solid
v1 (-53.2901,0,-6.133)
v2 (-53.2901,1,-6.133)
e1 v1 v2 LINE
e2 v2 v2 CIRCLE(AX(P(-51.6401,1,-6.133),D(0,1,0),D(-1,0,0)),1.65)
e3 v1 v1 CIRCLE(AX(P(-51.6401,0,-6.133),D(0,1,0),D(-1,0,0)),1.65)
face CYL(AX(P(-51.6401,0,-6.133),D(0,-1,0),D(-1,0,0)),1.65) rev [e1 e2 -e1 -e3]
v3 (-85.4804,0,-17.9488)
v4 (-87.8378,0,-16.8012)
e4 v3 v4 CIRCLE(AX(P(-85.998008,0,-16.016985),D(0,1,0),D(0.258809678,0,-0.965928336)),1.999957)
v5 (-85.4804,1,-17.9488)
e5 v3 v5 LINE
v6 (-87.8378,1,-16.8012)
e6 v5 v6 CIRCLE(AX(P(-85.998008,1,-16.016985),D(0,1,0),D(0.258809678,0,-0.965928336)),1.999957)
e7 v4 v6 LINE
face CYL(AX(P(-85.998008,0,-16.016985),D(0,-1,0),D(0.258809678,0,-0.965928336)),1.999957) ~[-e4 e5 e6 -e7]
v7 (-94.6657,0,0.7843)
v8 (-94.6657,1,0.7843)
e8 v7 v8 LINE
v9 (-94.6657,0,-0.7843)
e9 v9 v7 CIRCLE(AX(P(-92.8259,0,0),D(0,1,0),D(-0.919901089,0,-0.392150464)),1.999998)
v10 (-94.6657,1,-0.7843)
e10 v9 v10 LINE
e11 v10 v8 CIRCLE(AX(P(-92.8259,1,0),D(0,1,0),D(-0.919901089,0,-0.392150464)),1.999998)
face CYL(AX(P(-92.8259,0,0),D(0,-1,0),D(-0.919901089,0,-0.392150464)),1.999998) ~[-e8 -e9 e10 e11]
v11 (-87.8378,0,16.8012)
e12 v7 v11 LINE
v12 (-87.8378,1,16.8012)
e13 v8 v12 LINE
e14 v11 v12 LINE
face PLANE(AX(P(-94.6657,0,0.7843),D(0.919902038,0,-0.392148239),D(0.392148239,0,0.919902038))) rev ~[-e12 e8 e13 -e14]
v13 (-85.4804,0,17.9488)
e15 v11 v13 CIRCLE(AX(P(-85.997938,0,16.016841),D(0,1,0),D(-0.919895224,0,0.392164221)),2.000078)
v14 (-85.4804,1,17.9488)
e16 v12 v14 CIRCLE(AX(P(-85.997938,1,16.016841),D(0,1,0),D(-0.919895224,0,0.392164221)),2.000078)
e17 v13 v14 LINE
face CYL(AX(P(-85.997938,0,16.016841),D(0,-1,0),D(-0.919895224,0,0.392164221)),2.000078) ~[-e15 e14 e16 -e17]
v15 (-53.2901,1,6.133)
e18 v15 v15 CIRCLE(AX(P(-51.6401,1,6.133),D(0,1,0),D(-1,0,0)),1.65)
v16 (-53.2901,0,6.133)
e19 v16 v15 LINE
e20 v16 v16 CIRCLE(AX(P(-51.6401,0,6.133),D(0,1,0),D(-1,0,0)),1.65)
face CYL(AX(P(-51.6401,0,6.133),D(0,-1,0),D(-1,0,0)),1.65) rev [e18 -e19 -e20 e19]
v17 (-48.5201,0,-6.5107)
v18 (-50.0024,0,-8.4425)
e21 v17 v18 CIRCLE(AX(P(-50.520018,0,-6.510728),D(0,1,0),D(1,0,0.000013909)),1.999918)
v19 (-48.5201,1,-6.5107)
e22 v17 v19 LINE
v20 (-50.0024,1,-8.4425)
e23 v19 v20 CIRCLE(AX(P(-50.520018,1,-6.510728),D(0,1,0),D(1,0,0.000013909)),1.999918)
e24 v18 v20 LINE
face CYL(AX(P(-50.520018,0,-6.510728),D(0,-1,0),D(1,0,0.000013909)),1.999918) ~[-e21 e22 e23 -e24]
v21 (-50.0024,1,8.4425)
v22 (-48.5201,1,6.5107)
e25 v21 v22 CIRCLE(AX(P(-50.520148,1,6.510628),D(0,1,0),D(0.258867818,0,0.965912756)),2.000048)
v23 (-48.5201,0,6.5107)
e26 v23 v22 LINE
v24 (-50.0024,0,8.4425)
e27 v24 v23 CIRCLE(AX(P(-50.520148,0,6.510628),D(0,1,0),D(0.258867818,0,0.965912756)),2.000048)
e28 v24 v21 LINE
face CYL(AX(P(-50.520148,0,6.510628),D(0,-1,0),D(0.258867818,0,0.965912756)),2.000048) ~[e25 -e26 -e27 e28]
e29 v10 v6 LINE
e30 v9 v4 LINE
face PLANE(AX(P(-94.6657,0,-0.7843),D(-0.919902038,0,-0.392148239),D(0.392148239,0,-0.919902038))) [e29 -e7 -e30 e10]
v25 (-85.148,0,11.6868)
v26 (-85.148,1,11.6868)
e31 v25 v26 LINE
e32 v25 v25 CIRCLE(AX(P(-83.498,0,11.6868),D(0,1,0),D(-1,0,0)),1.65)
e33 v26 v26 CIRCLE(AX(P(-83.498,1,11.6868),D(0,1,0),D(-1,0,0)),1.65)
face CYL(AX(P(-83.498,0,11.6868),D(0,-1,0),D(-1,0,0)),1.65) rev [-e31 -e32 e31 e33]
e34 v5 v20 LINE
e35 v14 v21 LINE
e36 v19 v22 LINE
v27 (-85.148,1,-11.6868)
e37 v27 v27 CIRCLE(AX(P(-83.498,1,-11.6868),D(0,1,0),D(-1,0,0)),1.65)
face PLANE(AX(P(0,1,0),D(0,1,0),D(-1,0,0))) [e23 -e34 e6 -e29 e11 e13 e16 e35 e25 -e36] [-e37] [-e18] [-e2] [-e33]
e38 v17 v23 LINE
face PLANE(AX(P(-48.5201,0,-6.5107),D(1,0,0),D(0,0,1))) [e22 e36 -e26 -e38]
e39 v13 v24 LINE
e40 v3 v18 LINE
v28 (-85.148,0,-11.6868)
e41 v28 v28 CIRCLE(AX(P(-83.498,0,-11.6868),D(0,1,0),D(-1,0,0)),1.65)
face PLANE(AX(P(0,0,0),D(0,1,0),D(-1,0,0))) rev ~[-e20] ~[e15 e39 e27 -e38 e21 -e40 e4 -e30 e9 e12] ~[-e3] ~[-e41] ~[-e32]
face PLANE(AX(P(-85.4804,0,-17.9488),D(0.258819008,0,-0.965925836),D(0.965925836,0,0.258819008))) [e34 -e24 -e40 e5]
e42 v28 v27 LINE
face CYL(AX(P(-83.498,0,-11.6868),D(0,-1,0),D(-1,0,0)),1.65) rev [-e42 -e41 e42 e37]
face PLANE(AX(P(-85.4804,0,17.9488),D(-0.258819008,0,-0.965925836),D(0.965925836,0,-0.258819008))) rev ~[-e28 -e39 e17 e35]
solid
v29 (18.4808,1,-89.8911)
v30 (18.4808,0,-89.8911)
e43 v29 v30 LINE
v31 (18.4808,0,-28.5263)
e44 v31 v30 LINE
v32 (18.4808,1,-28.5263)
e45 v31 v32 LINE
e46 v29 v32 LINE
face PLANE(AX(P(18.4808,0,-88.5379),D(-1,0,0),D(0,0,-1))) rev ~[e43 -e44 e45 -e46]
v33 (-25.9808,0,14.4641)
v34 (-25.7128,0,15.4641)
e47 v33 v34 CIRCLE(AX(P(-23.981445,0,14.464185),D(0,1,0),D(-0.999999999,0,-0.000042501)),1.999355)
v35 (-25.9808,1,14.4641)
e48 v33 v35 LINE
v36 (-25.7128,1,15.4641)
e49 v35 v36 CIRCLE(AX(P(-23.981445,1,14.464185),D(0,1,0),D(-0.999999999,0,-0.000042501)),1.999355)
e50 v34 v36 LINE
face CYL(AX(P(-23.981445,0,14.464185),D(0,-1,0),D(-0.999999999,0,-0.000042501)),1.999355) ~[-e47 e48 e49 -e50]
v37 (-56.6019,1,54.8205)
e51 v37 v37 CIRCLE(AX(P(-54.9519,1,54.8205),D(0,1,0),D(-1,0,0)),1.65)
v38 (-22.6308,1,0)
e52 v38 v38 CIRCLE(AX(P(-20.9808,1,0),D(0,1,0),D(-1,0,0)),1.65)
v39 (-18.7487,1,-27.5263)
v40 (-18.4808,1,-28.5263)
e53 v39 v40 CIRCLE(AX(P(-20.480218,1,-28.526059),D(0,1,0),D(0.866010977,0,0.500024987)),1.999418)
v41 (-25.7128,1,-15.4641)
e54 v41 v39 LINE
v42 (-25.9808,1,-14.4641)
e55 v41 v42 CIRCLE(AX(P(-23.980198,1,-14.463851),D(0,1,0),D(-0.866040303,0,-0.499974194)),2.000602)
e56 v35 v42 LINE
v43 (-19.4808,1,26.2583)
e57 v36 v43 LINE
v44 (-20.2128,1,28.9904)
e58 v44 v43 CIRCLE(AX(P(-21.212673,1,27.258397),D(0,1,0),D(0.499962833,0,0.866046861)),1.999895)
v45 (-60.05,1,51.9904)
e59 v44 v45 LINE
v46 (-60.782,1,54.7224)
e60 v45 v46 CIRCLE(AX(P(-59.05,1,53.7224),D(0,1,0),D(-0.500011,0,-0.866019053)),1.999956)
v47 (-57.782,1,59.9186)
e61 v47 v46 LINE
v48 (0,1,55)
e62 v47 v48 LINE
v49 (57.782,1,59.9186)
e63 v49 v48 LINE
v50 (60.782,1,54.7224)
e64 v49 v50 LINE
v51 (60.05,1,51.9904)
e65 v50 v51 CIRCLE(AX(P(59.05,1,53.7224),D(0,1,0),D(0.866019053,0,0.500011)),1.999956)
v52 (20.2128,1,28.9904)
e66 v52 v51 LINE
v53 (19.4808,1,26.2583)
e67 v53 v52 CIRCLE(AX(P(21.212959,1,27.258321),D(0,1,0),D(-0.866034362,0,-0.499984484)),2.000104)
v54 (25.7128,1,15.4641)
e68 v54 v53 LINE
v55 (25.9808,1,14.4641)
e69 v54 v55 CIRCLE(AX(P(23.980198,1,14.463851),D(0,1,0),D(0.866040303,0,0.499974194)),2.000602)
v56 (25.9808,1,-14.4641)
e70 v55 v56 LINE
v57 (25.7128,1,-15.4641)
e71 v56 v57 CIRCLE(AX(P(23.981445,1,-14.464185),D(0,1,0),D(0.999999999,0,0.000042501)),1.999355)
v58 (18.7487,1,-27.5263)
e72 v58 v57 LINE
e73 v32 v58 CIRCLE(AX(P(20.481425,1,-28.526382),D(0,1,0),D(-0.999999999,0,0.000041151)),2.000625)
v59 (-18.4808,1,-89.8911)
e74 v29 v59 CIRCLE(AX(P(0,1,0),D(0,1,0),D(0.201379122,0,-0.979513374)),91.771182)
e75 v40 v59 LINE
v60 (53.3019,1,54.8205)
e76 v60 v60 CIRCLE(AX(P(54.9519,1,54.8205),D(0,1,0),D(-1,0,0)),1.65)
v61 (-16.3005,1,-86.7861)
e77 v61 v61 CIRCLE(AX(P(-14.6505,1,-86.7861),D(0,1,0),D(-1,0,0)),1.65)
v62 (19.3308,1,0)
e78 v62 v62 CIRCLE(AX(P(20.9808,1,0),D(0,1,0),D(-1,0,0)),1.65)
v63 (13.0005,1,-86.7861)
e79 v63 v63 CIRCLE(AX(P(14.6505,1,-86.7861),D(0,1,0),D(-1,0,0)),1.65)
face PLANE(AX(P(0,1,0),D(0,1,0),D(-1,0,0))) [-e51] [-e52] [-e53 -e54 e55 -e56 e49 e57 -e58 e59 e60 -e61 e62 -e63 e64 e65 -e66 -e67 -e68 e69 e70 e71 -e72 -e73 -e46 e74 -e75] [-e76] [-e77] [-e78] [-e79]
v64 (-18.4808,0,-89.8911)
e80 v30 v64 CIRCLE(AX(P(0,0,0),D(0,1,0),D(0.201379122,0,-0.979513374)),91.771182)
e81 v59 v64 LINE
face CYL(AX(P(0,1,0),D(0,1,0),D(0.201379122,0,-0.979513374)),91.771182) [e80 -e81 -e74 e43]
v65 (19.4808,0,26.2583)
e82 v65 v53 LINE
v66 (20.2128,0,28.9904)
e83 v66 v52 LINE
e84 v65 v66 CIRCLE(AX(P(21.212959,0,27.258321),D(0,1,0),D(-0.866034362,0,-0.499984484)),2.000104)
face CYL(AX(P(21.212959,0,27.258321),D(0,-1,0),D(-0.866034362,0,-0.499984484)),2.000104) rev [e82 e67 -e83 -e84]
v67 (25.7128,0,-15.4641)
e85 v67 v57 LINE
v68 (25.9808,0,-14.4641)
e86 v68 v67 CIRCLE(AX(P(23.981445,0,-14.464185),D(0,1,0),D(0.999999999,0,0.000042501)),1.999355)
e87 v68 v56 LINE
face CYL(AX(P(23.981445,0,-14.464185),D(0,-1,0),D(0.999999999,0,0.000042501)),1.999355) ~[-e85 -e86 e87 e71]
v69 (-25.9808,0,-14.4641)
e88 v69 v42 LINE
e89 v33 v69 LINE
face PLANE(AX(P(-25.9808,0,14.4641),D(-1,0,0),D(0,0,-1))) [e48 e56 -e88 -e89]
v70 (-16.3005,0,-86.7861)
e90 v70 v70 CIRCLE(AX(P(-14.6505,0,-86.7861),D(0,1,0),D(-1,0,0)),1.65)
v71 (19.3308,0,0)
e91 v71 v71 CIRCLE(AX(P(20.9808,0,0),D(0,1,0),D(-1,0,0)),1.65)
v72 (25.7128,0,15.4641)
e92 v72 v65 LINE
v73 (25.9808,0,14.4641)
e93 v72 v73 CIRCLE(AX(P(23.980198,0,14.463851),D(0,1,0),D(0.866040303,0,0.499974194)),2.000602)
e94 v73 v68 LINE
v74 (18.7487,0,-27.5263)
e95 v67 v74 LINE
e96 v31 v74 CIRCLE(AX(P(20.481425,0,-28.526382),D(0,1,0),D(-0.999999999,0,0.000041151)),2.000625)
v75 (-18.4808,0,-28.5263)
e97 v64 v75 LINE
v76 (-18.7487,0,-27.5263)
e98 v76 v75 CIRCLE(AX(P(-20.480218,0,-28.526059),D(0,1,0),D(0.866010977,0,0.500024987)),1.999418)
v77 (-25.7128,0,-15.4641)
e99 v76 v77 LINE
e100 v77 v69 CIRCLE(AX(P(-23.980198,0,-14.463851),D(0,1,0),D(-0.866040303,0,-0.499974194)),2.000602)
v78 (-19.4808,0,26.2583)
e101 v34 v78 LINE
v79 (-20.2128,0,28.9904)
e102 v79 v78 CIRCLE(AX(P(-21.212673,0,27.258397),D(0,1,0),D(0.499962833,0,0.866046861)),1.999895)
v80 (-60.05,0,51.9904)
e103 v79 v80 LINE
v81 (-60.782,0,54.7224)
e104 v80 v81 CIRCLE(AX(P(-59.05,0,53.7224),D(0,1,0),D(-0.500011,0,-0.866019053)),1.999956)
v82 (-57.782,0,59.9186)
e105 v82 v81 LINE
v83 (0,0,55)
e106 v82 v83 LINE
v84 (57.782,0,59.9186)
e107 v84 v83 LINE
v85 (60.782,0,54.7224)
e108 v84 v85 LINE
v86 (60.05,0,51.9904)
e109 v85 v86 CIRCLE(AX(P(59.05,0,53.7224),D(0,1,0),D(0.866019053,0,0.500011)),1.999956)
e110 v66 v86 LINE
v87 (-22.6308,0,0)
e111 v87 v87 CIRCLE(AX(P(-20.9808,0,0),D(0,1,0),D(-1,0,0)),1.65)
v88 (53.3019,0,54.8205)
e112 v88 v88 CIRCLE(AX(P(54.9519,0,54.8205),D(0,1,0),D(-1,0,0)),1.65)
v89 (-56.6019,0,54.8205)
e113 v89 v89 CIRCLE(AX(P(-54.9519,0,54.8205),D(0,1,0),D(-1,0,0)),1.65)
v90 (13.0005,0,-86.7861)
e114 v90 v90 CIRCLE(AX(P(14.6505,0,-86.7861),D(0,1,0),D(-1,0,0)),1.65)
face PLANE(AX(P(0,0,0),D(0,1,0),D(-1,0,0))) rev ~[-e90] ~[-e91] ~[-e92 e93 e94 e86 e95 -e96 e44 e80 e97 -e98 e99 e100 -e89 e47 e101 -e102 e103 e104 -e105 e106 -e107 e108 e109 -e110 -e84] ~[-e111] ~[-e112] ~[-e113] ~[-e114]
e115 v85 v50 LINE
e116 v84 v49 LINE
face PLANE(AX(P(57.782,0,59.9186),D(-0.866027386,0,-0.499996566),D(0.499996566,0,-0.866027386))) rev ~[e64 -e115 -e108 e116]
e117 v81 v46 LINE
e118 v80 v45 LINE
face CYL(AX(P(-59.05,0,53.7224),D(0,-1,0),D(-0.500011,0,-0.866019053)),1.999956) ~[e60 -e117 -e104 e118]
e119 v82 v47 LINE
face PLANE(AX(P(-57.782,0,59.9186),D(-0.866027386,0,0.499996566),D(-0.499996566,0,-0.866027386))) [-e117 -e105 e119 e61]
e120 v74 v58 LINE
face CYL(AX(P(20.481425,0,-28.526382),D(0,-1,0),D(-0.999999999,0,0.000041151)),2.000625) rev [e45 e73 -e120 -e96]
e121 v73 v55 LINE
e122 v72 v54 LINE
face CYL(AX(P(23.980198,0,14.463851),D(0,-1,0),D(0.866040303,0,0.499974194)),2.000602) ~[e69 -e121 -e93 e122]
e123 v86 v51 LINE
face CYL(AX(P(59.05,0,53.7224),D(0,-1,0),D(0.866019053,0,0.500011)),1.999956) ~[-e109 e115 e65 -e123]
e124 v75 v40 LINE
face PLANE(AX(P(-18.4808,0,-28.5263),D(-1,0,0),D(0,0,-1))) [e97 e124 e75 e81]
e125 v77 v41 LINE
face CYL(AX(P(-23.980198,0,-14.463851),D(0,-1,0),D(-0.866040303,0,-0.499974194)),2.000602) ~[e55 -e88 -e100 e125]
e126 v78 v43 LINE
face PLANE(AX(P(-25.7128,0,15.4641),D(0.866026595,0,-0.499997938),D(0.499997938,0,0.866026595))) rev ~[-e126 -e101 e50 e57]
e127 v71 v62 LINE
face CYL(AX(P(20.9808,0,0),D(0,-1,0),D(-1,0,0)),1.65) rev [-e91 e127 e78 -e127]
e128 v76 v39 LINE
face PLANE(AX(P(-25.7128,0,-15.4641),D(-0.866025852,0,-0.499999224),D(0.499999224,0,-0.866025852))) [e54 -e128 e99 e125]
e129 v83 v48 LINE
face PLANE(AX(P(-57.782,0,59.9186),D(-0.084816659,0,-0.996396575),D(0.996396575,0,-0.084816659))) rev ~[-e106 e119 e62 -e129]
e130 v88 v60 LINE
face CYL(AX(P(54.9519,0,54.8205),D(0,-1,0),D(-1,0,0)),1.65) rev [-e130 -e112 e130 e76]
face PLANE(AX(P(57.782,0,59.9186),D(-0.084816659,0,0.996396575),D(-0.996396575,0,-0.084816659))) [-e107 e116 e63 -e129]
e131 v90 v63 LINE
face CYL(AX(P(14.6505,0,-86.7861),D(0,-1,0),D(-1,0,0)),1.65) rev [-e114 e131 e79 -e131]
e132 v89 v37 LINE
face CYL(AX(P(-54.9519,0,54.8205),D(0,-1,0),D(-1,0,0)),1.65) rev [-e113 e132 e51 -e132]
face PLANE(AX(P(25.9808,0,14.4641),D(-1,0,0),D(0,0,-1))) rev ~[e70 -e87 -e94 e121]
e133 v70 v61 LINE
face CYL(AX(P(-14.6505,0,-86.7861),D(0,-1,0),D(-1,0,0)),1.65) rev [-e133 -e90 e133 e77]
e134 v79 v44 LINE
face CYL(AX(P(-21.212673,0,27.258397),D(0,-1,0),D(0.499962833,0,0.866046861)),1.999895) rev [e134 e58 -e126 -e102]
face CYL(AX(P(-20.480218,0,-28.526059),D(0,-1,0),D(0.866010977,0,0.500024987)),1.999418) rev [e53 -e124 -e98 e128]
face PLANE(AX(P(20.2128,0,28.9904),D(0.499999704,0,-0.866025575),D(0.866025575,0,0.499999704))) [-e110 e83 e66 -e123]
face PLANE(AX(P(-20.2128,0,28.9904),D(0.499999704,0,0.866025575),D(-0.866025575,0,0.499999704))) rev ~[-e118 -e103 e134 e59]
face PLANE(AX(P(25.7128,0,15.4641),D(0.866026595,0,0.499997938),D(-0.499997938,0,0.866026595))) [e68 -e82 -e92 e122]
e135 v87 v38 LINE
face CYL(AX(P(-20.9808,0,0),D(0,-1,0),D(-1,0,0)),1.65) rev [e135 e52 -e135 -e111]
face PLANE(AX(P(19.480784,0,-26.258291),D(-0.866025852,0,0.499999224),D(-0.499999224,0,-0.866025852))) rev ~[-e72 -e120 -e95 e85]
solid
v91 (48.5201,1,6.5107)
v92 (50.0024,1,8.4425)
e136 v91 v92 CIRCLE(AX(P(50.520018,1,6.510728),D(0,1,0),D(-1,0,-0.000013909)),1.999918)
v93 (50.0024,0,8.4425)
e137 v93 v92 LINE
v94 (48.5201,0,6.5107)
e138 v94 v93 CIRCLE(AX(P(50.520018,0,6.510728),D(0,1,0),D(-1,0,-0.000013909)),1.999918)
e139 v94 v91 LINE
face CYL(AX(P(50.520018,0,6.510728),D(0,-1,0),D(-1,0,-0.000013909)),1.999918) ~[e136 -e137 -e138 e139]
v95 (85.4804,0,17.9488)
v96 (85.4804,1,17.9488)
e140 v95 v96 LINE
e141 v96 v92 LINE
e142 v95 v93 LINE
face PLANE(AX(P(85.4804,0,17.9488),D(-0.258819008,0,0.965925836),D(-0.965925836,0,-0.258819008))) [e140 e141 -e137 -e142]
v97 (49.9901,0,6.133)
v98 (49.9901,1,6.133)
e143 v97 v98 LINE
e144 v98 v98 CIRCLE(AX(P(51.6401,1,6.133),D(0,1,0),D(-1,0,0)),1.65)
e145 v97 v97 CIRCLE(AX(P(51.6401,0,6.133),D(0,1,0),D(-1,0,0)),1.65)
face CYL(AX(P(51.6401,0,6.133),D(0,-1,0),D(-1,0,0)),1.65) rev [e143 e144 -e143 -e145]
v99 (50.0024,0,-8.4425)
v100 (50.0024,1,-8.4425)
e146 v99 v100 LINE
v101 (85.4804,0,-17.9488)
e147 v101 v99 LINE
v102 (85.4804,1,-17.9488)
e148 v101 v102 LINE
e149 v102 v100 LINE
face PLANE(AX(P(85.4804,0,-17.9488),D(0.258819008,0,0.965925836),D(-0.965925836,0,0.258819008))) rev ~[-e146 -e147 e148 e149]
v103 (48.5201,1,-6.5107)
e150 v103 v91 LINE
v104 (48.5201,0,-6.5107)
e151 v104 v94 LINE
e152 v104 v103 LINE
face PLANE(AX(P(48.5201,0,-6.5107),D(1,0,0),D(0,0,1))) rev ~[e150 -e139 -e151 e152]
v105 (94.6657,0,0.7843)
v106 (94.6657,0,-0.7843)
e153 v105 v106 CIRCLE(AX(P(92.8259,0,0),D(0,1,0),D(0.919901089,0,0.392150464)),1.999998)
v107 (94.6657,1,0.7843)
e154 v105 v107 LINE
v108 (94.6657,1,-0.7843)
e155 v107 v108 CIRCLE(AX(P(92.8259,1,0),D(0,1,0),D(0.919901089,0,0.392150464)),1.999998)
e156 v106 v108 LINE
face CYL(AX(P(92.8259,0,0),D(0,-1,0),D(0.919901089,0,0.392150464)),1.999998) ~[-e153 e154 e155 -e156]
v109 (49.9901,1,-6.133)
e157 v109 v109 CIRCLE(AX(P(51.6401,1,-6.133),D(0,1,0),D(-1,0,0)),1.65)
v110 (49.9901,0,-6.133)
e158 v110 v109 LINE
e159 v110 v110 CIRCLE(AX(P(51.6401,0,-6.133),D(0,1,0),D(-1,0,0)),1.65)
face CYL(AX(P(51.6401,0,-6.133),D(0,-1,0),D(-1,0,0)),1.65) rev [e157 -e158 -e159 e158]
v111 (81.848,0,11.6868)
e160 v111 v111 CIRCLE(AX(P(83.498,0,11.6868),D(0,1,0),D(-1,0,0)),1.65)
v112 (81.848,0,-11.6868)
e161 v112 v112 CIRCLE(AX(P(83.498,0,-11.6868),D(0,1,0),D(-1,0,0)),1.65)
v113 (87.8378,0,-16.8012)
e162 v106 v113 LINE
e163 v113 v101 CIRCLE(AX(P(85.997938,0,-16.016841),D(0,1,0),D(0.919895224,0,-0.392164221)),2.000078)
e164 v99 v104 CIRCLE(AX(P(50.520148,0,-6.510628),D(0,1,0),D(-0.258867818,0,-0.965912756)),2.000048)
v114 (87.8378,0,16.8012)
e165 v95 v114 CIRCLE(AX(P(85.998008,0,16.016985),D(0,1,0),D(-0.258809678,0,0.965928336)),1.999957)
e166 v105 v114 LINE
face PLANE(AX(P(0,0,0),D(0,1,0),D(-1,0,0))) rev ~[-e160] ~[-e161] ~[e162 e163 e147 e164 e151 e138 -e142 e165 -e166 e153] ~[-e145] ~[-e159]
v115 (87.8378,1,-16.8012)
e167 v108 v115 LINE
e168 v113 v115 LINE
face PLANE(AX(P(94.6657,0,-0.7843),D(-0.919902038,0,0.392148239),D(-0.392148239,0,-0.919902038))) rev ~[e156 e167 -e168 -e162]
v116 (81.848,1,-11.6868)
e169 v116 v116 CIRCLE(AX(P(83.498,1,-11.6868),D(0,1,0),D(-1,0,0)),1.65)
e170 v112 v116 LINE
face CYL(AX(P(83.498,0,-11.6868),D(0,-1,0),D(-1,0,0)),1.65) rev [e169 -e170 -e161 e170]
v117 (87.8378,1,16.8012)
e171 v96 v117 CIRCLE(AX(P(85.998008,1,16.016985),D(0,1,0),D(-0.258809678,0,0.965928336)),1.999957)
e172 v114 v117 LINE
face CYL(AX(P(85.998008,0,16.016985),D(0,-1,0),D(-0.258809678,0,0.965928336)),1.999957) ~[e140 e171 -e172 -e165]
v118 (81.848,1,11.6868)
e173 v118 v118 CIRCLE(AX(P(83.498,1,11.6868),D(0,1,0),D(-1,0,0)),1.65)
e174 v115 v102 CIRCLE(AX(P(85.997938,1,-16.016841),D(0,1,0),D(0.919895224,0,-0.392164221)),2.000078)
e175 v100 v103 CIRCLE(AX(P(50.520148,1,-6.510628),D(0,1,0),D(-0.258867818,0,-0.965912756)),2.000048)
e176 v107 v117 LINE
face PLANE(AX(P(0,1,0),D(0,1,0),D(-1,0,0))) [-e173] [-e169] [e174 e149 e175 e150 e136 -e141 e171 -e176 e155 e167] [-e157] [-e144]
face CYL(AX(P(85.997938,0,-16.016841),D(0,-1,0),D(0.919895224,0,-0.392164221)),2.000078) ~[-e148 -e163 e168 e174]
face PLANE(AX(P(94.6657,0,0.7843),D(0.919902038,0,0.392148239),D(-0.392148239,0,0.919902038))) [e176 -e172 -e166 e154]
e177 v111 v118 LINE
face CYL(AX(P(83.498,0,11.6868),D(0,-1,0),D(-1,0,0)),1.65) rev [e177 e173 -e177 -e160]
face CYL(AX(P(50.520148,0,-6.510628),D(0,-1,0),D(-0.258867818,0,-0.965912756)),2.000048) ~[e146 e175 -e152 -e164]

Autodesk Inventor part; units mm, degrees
ref_plane "YZ Plane" through (0, 0, 0) normal (1, 0, 0) x (0, 1, 0)
ref_plane "XZ Plane" through (0, 0, 0) normal (0, 1, 0) x (-1, 0, 0)
ref_plane "XY Plane" through (0, 0, 0) normal (0, 0, 1) x (1, 0, 0)
sketch "Sketch1" plane through (0, 0, 0) normal (0, 1, 0) x (-1, 0, 0)
  line L0 (-18.4808, -28.5263) -> (-18.4808, -88.5379)
  line L1 (25.7128, 15.4641) -> (19.4808, 26.2583)
  arc A0 (20.2128, 28.9904) -> (19.4808, 26.2583) centre (21.2128, 27.2583) ccw
  arc A1 (-60.782, 54.7224) -> (-60.05, 51.9904) centre (-59.05, 53.7224) ccw
  line L2 (-20.2128, 28.9904) -> (-60.05, 51.9904)
  arc A2 (60.05, 51.9904) -> (60.782, 54.7224) centre (59.05, 53.7224) ccw
  line L3 (20.2128, 28.9904) -> (60.05, 51.9904)
  arc A3 (-85.4804, 17.9488) -> (-87.8378, 16.8012) centre (-85.998, 16.0169) ccw
  arc A4 (-94.6657, 0.7843) -> (-94.6657, -0.7843) centre (-92.8259, 0) ccw
  arc A5 (-87.8378, -16.8012) -> (-85.4804, -17.9488) centre (-85.998, -16.0169) ccw
  line L4 (-94.6657, -0.7843) -> (-87.8378, -16.8012)
  line L5 (-94.6657, 0.7843) -> (-87.8378, 16.8012)
  arc A6 (48.5201, -6.5107) -> (50.0024, -8.4425) centre (50.5201, -6.5107) ccw
  line L6 (48.5201, -6.5107) -> (48.5201, 6.5107)
  arc A7 (50.0024, 8.4425) -> (48.5201, 6.5107) centre (50.5201, 6.5107) ccw
  line L7 (85.4804, 17.9488) -> (50.0024, 8.4425)
  line L8 (85.4804, -17.9488) -> (50.0024, -8.4425)
  arc A8 (87.8378, 16.8012) -> (85.4804, 17.9488) centre (85.998, 16.0169) ccw
  line L9 (94.6657, 0.7843) -> (87.8378, 16.8012)
  line L10 (-18.4808, -88.5379) -> (-18.4808, -91.8911)
  line L11 (18.4808, -88.5379) -> (18.4808, -91.8911)
  line L12 (18.4808, -28.5263) -> (18.4808, -88.5379)
  line L13 (-25.7128, -15.4641) -> (-18.7487, -27.5263)
  arc A9 (-25.9808, -14.4641) -> (-25.7128, -15.4641) centre (-23.9808, -14.4641) ccw
  arc A10 (-18.4808, -28.5263) -> (-18.7487, -27.5263) centre (-20.4808, -28.5263) ccw
  line L14 (-85.4804, 17.9488) -> (-50.0024, 8.4425)
  line L15 (-85.4804, -17.9488) -> (-50.0024, -8.4425)
  line L16 (25.7128, -15.4641) -> (18.7487, -27.5263)
  arc A11 (25.7128, -15.4641) -> (25.9808, -14.4641) centre (23.9808, -14.4641) ccw
  arc A12 (18.7487, -27.5263) -> (18.4808, -28.5263) centre (20.4808, -28.5263) ccw
  arc A13 (25.9808, 14.4641) -> (25.7128, 15.4641) centre (23.9808, 14.4641) ccw
  line L17 (25.9808, 14.4641) -> (25.9808, -14.4641)
  arc A14 (85.4804, -17.9488) -> (87.8378, -16.8012) centre (85.998, -16.0169) ccw
  arc A15 (94.6657, -0.7843) -> (94.6657, 0.7843) centre (92.8259, 0) ccw
  line L18 (94.6657, -0.7843) -> (87.8378, -16.8012)
  line L19 (-25.9808, 14.4641) -> (-25.9808, -14.4641)
  line L20 (-25.7128, 15.4641) -> (-19.4808, 26.2583)
  arc A16 (-25.7128, 15.4641) -> (-25.9808, 14.4641) centre (-23.9808, 14.4641) ccw
  arc A17 (-19.4808, 26.2583) -> (-20.2128, 28.9904) centre (-21.2128, 27.2583) ccw
  arc A18 (-50.0024, -8.4425) -> (-48.5201, -6.5107) centre (-50.5201, -6.5107) ccw
  line L21 (-48.5201, -6.5107) -> (-48.5201, 6.5107)
  arc A19 (-48.5201, 6.5107) -> (-50.0024, 8.4425) centre (-50.5201, 6.5107) ccw
  arc A20 (-18.4808, -91.8911) -> (18.4808, -91.8911) centre (0, 0) ccw
  line L22 (-18.4808, -91.8911) -> (-18.4808, -28.5263)
  line L23 (-18.7487, -27.5263) -> (-25.7128, -15.4641)
  line L24 (-25.9808, -14.4641) -> (-25.9808, 14.4641)
  line L25 (-25.7128, 15.4641) -> (-19.4808, 26.2583)
  line L26 (-20.2128, 28.9904) -> (-60.05, 51.9904)
  line L27 (60.05, 51.9904) -> (20.2128, 28.9904)
  line L28 (19.4808, 26.2583) -> (25.7128, 15.4641)
  line L29 (25.9808, 14.4641) -> (25.9808, -14.4641)
  line L30 (25.7128, -15.4641) -> (18.7487, -27.5263)
  line L31 (18.4808, -28.5263) -> (18.4808, -91.8911)
  arc A21 (-18.4808, -28.5263) -> (-18.7487, -27.5263) centre (-20.4808, -28.5263) ccw
  arc A22 (-25.9808, -14.4641) -> (-25.7128, -15.4641) centre (-23.9808, -14.4641) ccw
  arc A23 (-25.7128, 15.4641) -> (-25.9808, 14.4641) centre (-23.9808, 14.4641) ccw
  arc A24 (-19.4808, 26.2583) -> (-20.2128, 28.9904) centre (-21.2128, 27.2583) ccw
  arc A25 (-60.782, 54.7224) -> (-60.05, 51.9904) centre (-59.05, 53.7224) ccw
  arc A26 (60.05, 51.9904) -> (60.782, 54.7224) centre (59.05, 53.7224) ccw
  arc A27 (20.2128, 28.9904) -> (19.4808, 26.2583) centre (21.2128, 27.2583) ccw
  arc A28 (25.9808, 14.4641) -> (25.7128, 15.4641) centre (23.9808, 14.4641) ccw
  arc A29 (25.7128, -15.4641) -> (25.9808, -14.4641) centre (23.9808, -14.4641) ccw
  arc A30 (18.7487, -27.5263) -> (18.4808, -28.5263) centre (20.4808, -28.5263) ccw
  line L32 (-50.0024, -8.4425) -> (-85.4804, -17.9488)
  line L33 (-87.8378, -16.8012) -> (-94.6657, -0.7843)
  line L34 (-94.6657, 0.7843) -> (-87.8378, 16.8012)
  line L35 (-85.4804, 17.9488) -> (-50.0024, 8.4425)
  line L36 (-48.5201, 6.5107) -> (-48.5201, -6.5107)
  arc A31 (-87.8378, -16.8012) -> (-85.4804, -17.9488) centre (-85.998, -16.0169) ccw
  arc A32 (-94.6657, 0.7843) -> (-94.6657, -0.7843) centre (-92.8259, 0) ccw
  arc A33 (-85.4804, 17.9488) -> (-87.8378, 16.8012) centre (-85.998, 16.0169) ccw
  arc A34 (-48.5201, 6.5107) -> (-50.0024, 8.4425) centre (-50.5201, 6.5107) ccw
  arc A35 (-50.0024, -8.4425) -> (-48.5201, -6.5107) centre (-50.5201, -6.5107) ccw
  arc A36 (48.5201, -6.5107) -> (50.0024, -8.4425) centre (50.5201, -6.5107) ccw
  arc A37 (50.0024, 8.4425) -> (48.5201, 6.5107) centre (50.5201, 6.5107) ccw
  arc A38 (85.4804, -17.9488) -> (87.8378, -16.8012) centre (85.998, -16.0169) ccw
  arc A39 (94.6657, -0.7843) -> (94.6657, 0.7843) centre (92.8259, 0) ccw
  arc A40 (87.8378, 16.8012) -> (85.4804, 17.9488) centre (85.998, 16.0169) ccw
  line L37 (87.8378, -16.8012) -> (94.6657, -0.7843)
  line L38 (94.6657, 0.7843) -> (87.8378, 16.8012)
  line L39 (85.4804, 17.9488) -> (50.0024, 8.4425)
  line L40 (48.5201, 6.5107) -> (48.5201, -6.5107)
  line L41 (50.0024, -8.4425) -> (85.4804, -17.9488)
  line L42 (19.4808, -26.2583) -> (25.7128, -15.4641)
  arc A41 (25.7128, -15.4641) -> (25.9808, -14.4641) centre (23.9808, -14.4641) ccw
  line L43 (25.9808, -14.4641) -> (25.9808, 14.4641)
  arc A42 (25.9808, 14.4641) -> (25.7128, 15.4641) centre (23.9808, 14.4641) ccw
  arc A43 (-25.7128, 15.4641) -> (-25.9808, 14.4641) centre (-23.9808, 14.4641) ccw
  line L44 (-25.9808, 14.4641) -> (-25.9808, -14.4641)
  arc A44 (-25.9808, -14.4641) -> (-25.7128, -15.4641) centre (-23.9808, -14.4641) ccw
  line L45 (-25.7128, -15.4641) -> (-19.4808, -26.2583)
  line L46 (-50.0024, 8.4425) -> (-85.4804, 17.9488)
  arc A45 (-85.4804, 17.9488) -> (-87.8378, 16.8012) centre (-85.998, 16.0169) ccw
  line L47 (-87.8378, 16.8012) -> (-94.6657, 0.7843)
  arc A46 (-94.6657, 0.7843) -> (-94.6657, -0.7843) centre (-92.8259, 0) ccw
  line L48 (-94.6657, -0.7843) -> (-87.8378, -16.8012)
  arc A47 (-87.8378, -16.8012) -> (-85.4804, -17.9488) centre (-85.998, -16.0169) ccw
  line L49 (-85.4804, -17.9488) -> (-50.0024, -8.4425)
  arc A48 (-50.0024, -8.4425) -> (-48.5201, -6.5107) centre (-50.5201, -6.5107) ccw
  line L50 (-48.5201, -6.5107) -> (-48.5201, 6.5107)
  arc A49 (-48.5201, 6.5107) -> (-50.0024, 8.4425) centre (-50.5201, 6.5107) ccw
  arc A50 (85.4804, -17.9488) -> (87.8378, -16.8012) centre (85.998, -16.0169) ccw
  line L51 (87.8378, -16.8012) -> (94.6657, -0.7843)
  arc A51 (94.6657, -0.7843) -> (94.6657, 0.7843) centre (92.8259, 0) ccw
  line L52 (94.6657, 0.7843) -> (87.8378, 16.8012)
  arc A52 (87.8378, 16.8012) -> (85.4804, 17.9488) centre (85.998, 16.0169) ccw
  line L53 (85.4804, 17.9488) -> (50.0024, 8.4425)
  arc A53 (50.0024, 8.4425) -> (48.5201, 6.5107) centre (50.5201, 6.5107) ccw
  line L54 (48.5201, 6.5107) -> (48.5201, -6.5107)
  arc A54 (48.5201, -6.5107) -> (50.0024, -8.4425) centre (50.5201, -6.5107) ccw
  line L55 (50.0024, -8.4425) -> (85.4804, -17.9488)
  line L56 (57.782, 59.9186) -> (0, 55)
  line L57 (-57.782, 59.9186) -> (0, 55)
  line L58 (-57.782, 59.9186) -> (-60.782, 54.7224)
  line L59 (57.782, 59.9186) -> (60.782, 54.7224)
  line L60 (18.4808, -91.8911) -> (18.4808, -88.5379)
  line L61 (18.4808, -91.8911) -> (18.4808, -89.8911)
  circle A55 centre (-54.9519, 54.8205) radius 1.65
  circle A56 centre (54.9519, 54.8205) radius 1.65
  circle A57 centre (-20.9808, 0) radius 1.65
  circle A58 centre (20.9808, 0) radius 1.65
  circle A59 centre (-14.6505, -86.7861) radius 1.65
  circle A60 centre (14.6505, -86.7861) radius 1.65
  circle A61 centre (51.6401, 6.133) radius 1.65
  circle A62 centre (51.6401, -6.133) radius 1.65
  circle A63 centre (83.498, 11.6868) radius 1.65
  circle A64 centre (83.498, -11.6868) radius 1.65
  circle A65 centre (-51.6401, 6.133) radius 1.65
  circle A66 centre (-51.6401, -6.133) radius 1.65
  circle A67 centre (-83.498, 11.6868) radius 1.65
  circle A68 centre (-83.498, -11.6868) radius 1.65
  dimension "d19" = 2
ref_plane "Work Plane2" through (0, 1, 0) normal (0, 1, 0) x (1, 0, 0)
extrude "Extrusion5" add sketch "Sketch1" along normal blind 1
sketch "Sketch2" plane through (0, 1, 0) normal (0, 1, 0) x (1, 0, 0)
  circle A0 centre (-14.6505, 21.7861) radius 1.25 projected
  circle A1 centre (-14.6505, 87.3566) radius 1.25 projected
  circle A2 centre (-44.6505, -51.9904) radius 1.25 projected
  circle A3 centre (14.6505, 21.7861) radius 1.25 projected
  circle A4 centre (44.6505, -51.9904) radius 1.25 projected
  circle A5 centre (14.6505, -51.9904) radius 1.25 projected
  circle A6 centre (14.6505, -18.2139) radius 1.25 projected
  circle A7 centre (-14.6505, -51.9904) radius 1.25 projected
  circle A8 centre (14.6505, 71.7861) radius 1.25 projected
  circle A9 centre (-14.6505, 71.7861) radius 1.25 projected
  line L0 (60.05, -51.9904) -> (20.2128, -28.9904) projected
  arc A10 (19.4808, -26.2583) -> (20.2128, -28.9904) centre (21.2128, -27.2583) ccw projected
  line L1 (19.4808, -26.2583) -> (25.7128, -15.4641) projected
  arc A11 (25.7128, -15.4641) -> (25.9808, -14.4641) centre (23.9808, -14.4641) ccw projected
  line L2 (25.9808, -14.4641) -> (25.9808, 14.4641) projected
  arc A12 (25.9808, 14.4641) -> (25.7128, 15.4641) centre (23.9808, 14.4641) ccw projected
  line L3 (25.7128, 15.4641) -> (18.7487, 27.5263) projected
  arc A13 (18.4808, 28.5263) -> (18.7487, 27.5263) centre (20.4808, 28.5263) ccw projected
  line L4 (18.4808, 28.5263) -> (18.4808, 91.8911) projected
  arc A14 (18.4808, 91.8911) -> (-18.4808, 91.8911) centre (0, 0) ccw projected
  line L5 (-18.4808, 91.8911) -> (-18.4808, 28.5263) projected
  arc A15 (-18.7487, 27.5263) -> (-18.4808, 28.5263) centre (-20.4808, 28.5263) ccw projected
  line L6 (-18.7487, 27.5263) -> (-25.7128, 15.4641) projected
  arc A16 (-25.7128, 15.4641) -> (-25.9808, 14.4641) centre (-23.9808, 14.4641) ccw projected
  line L7 (-25.9808, 14.4641) -> (-25.9808, -14.4641) projected
  arc A17 (-25.9808, -14.4641) -> (-25.7128, -15.4641) centre (-23.9808, -14.4641) ccw projected
  line L8 (-25.7128, -15.4641) -> (-19.4808, -26.2583) projected
  arc A18 (-20.2128, -28.9904) -> (-19.4808, -26.2583) centre (-21.2128, -27.2583) ccw projected
  line L9 (-20.2128, -28.9904) -> (-60.05, -51.9904) projected
  arc A19 (-60.05, -51.9904) -> (-60.782, -54.7224) centre (-59.05, -53.7224) ccw projected
  line L10 (-60.782, -54.7224) -> (-57.782, -59.9186) projected
  line L11 (-57.782, -59.9186) -> (0, -55) projected
  line L12 (0, -55) -> (57.782, -59.9186) projected
  line L13 (57.782, -59.9186) -> (60.782, -54.7224) projected
  arc A20 (60.782, -54.7224) -> (60.05, -51.9904) centre (59.05, -53.7224) ccw projected
  line L14 (-18.4808, 91.8911) -> (-18.4808, 89.8911)
  line L15 (-18.4808, 91.8911) -> (-18.4808, 28.5263) projected
  line L16 (18.4808, 91.8911) -> (18.4808, 89.8911)
  line L17 (18.4808, 28.5263) -> (18.4808, 91.8911) projected
  arc A21 (18.4808, 91.8911) -> (-18.4808, 91.8911) centre (0, 0) ccw
  arc A22 (18.4808, 89.8911) -> (-18.4808, 89.8911) centre (0, 0) ccw
  dimension "d20" = 2
extrude "Extrusion2" cut sketch "Sketch2" against normal blind 1 contours A22 L5 A14 L4
properties part number "Veroboard Bottom Plate" material "Veroboard"
